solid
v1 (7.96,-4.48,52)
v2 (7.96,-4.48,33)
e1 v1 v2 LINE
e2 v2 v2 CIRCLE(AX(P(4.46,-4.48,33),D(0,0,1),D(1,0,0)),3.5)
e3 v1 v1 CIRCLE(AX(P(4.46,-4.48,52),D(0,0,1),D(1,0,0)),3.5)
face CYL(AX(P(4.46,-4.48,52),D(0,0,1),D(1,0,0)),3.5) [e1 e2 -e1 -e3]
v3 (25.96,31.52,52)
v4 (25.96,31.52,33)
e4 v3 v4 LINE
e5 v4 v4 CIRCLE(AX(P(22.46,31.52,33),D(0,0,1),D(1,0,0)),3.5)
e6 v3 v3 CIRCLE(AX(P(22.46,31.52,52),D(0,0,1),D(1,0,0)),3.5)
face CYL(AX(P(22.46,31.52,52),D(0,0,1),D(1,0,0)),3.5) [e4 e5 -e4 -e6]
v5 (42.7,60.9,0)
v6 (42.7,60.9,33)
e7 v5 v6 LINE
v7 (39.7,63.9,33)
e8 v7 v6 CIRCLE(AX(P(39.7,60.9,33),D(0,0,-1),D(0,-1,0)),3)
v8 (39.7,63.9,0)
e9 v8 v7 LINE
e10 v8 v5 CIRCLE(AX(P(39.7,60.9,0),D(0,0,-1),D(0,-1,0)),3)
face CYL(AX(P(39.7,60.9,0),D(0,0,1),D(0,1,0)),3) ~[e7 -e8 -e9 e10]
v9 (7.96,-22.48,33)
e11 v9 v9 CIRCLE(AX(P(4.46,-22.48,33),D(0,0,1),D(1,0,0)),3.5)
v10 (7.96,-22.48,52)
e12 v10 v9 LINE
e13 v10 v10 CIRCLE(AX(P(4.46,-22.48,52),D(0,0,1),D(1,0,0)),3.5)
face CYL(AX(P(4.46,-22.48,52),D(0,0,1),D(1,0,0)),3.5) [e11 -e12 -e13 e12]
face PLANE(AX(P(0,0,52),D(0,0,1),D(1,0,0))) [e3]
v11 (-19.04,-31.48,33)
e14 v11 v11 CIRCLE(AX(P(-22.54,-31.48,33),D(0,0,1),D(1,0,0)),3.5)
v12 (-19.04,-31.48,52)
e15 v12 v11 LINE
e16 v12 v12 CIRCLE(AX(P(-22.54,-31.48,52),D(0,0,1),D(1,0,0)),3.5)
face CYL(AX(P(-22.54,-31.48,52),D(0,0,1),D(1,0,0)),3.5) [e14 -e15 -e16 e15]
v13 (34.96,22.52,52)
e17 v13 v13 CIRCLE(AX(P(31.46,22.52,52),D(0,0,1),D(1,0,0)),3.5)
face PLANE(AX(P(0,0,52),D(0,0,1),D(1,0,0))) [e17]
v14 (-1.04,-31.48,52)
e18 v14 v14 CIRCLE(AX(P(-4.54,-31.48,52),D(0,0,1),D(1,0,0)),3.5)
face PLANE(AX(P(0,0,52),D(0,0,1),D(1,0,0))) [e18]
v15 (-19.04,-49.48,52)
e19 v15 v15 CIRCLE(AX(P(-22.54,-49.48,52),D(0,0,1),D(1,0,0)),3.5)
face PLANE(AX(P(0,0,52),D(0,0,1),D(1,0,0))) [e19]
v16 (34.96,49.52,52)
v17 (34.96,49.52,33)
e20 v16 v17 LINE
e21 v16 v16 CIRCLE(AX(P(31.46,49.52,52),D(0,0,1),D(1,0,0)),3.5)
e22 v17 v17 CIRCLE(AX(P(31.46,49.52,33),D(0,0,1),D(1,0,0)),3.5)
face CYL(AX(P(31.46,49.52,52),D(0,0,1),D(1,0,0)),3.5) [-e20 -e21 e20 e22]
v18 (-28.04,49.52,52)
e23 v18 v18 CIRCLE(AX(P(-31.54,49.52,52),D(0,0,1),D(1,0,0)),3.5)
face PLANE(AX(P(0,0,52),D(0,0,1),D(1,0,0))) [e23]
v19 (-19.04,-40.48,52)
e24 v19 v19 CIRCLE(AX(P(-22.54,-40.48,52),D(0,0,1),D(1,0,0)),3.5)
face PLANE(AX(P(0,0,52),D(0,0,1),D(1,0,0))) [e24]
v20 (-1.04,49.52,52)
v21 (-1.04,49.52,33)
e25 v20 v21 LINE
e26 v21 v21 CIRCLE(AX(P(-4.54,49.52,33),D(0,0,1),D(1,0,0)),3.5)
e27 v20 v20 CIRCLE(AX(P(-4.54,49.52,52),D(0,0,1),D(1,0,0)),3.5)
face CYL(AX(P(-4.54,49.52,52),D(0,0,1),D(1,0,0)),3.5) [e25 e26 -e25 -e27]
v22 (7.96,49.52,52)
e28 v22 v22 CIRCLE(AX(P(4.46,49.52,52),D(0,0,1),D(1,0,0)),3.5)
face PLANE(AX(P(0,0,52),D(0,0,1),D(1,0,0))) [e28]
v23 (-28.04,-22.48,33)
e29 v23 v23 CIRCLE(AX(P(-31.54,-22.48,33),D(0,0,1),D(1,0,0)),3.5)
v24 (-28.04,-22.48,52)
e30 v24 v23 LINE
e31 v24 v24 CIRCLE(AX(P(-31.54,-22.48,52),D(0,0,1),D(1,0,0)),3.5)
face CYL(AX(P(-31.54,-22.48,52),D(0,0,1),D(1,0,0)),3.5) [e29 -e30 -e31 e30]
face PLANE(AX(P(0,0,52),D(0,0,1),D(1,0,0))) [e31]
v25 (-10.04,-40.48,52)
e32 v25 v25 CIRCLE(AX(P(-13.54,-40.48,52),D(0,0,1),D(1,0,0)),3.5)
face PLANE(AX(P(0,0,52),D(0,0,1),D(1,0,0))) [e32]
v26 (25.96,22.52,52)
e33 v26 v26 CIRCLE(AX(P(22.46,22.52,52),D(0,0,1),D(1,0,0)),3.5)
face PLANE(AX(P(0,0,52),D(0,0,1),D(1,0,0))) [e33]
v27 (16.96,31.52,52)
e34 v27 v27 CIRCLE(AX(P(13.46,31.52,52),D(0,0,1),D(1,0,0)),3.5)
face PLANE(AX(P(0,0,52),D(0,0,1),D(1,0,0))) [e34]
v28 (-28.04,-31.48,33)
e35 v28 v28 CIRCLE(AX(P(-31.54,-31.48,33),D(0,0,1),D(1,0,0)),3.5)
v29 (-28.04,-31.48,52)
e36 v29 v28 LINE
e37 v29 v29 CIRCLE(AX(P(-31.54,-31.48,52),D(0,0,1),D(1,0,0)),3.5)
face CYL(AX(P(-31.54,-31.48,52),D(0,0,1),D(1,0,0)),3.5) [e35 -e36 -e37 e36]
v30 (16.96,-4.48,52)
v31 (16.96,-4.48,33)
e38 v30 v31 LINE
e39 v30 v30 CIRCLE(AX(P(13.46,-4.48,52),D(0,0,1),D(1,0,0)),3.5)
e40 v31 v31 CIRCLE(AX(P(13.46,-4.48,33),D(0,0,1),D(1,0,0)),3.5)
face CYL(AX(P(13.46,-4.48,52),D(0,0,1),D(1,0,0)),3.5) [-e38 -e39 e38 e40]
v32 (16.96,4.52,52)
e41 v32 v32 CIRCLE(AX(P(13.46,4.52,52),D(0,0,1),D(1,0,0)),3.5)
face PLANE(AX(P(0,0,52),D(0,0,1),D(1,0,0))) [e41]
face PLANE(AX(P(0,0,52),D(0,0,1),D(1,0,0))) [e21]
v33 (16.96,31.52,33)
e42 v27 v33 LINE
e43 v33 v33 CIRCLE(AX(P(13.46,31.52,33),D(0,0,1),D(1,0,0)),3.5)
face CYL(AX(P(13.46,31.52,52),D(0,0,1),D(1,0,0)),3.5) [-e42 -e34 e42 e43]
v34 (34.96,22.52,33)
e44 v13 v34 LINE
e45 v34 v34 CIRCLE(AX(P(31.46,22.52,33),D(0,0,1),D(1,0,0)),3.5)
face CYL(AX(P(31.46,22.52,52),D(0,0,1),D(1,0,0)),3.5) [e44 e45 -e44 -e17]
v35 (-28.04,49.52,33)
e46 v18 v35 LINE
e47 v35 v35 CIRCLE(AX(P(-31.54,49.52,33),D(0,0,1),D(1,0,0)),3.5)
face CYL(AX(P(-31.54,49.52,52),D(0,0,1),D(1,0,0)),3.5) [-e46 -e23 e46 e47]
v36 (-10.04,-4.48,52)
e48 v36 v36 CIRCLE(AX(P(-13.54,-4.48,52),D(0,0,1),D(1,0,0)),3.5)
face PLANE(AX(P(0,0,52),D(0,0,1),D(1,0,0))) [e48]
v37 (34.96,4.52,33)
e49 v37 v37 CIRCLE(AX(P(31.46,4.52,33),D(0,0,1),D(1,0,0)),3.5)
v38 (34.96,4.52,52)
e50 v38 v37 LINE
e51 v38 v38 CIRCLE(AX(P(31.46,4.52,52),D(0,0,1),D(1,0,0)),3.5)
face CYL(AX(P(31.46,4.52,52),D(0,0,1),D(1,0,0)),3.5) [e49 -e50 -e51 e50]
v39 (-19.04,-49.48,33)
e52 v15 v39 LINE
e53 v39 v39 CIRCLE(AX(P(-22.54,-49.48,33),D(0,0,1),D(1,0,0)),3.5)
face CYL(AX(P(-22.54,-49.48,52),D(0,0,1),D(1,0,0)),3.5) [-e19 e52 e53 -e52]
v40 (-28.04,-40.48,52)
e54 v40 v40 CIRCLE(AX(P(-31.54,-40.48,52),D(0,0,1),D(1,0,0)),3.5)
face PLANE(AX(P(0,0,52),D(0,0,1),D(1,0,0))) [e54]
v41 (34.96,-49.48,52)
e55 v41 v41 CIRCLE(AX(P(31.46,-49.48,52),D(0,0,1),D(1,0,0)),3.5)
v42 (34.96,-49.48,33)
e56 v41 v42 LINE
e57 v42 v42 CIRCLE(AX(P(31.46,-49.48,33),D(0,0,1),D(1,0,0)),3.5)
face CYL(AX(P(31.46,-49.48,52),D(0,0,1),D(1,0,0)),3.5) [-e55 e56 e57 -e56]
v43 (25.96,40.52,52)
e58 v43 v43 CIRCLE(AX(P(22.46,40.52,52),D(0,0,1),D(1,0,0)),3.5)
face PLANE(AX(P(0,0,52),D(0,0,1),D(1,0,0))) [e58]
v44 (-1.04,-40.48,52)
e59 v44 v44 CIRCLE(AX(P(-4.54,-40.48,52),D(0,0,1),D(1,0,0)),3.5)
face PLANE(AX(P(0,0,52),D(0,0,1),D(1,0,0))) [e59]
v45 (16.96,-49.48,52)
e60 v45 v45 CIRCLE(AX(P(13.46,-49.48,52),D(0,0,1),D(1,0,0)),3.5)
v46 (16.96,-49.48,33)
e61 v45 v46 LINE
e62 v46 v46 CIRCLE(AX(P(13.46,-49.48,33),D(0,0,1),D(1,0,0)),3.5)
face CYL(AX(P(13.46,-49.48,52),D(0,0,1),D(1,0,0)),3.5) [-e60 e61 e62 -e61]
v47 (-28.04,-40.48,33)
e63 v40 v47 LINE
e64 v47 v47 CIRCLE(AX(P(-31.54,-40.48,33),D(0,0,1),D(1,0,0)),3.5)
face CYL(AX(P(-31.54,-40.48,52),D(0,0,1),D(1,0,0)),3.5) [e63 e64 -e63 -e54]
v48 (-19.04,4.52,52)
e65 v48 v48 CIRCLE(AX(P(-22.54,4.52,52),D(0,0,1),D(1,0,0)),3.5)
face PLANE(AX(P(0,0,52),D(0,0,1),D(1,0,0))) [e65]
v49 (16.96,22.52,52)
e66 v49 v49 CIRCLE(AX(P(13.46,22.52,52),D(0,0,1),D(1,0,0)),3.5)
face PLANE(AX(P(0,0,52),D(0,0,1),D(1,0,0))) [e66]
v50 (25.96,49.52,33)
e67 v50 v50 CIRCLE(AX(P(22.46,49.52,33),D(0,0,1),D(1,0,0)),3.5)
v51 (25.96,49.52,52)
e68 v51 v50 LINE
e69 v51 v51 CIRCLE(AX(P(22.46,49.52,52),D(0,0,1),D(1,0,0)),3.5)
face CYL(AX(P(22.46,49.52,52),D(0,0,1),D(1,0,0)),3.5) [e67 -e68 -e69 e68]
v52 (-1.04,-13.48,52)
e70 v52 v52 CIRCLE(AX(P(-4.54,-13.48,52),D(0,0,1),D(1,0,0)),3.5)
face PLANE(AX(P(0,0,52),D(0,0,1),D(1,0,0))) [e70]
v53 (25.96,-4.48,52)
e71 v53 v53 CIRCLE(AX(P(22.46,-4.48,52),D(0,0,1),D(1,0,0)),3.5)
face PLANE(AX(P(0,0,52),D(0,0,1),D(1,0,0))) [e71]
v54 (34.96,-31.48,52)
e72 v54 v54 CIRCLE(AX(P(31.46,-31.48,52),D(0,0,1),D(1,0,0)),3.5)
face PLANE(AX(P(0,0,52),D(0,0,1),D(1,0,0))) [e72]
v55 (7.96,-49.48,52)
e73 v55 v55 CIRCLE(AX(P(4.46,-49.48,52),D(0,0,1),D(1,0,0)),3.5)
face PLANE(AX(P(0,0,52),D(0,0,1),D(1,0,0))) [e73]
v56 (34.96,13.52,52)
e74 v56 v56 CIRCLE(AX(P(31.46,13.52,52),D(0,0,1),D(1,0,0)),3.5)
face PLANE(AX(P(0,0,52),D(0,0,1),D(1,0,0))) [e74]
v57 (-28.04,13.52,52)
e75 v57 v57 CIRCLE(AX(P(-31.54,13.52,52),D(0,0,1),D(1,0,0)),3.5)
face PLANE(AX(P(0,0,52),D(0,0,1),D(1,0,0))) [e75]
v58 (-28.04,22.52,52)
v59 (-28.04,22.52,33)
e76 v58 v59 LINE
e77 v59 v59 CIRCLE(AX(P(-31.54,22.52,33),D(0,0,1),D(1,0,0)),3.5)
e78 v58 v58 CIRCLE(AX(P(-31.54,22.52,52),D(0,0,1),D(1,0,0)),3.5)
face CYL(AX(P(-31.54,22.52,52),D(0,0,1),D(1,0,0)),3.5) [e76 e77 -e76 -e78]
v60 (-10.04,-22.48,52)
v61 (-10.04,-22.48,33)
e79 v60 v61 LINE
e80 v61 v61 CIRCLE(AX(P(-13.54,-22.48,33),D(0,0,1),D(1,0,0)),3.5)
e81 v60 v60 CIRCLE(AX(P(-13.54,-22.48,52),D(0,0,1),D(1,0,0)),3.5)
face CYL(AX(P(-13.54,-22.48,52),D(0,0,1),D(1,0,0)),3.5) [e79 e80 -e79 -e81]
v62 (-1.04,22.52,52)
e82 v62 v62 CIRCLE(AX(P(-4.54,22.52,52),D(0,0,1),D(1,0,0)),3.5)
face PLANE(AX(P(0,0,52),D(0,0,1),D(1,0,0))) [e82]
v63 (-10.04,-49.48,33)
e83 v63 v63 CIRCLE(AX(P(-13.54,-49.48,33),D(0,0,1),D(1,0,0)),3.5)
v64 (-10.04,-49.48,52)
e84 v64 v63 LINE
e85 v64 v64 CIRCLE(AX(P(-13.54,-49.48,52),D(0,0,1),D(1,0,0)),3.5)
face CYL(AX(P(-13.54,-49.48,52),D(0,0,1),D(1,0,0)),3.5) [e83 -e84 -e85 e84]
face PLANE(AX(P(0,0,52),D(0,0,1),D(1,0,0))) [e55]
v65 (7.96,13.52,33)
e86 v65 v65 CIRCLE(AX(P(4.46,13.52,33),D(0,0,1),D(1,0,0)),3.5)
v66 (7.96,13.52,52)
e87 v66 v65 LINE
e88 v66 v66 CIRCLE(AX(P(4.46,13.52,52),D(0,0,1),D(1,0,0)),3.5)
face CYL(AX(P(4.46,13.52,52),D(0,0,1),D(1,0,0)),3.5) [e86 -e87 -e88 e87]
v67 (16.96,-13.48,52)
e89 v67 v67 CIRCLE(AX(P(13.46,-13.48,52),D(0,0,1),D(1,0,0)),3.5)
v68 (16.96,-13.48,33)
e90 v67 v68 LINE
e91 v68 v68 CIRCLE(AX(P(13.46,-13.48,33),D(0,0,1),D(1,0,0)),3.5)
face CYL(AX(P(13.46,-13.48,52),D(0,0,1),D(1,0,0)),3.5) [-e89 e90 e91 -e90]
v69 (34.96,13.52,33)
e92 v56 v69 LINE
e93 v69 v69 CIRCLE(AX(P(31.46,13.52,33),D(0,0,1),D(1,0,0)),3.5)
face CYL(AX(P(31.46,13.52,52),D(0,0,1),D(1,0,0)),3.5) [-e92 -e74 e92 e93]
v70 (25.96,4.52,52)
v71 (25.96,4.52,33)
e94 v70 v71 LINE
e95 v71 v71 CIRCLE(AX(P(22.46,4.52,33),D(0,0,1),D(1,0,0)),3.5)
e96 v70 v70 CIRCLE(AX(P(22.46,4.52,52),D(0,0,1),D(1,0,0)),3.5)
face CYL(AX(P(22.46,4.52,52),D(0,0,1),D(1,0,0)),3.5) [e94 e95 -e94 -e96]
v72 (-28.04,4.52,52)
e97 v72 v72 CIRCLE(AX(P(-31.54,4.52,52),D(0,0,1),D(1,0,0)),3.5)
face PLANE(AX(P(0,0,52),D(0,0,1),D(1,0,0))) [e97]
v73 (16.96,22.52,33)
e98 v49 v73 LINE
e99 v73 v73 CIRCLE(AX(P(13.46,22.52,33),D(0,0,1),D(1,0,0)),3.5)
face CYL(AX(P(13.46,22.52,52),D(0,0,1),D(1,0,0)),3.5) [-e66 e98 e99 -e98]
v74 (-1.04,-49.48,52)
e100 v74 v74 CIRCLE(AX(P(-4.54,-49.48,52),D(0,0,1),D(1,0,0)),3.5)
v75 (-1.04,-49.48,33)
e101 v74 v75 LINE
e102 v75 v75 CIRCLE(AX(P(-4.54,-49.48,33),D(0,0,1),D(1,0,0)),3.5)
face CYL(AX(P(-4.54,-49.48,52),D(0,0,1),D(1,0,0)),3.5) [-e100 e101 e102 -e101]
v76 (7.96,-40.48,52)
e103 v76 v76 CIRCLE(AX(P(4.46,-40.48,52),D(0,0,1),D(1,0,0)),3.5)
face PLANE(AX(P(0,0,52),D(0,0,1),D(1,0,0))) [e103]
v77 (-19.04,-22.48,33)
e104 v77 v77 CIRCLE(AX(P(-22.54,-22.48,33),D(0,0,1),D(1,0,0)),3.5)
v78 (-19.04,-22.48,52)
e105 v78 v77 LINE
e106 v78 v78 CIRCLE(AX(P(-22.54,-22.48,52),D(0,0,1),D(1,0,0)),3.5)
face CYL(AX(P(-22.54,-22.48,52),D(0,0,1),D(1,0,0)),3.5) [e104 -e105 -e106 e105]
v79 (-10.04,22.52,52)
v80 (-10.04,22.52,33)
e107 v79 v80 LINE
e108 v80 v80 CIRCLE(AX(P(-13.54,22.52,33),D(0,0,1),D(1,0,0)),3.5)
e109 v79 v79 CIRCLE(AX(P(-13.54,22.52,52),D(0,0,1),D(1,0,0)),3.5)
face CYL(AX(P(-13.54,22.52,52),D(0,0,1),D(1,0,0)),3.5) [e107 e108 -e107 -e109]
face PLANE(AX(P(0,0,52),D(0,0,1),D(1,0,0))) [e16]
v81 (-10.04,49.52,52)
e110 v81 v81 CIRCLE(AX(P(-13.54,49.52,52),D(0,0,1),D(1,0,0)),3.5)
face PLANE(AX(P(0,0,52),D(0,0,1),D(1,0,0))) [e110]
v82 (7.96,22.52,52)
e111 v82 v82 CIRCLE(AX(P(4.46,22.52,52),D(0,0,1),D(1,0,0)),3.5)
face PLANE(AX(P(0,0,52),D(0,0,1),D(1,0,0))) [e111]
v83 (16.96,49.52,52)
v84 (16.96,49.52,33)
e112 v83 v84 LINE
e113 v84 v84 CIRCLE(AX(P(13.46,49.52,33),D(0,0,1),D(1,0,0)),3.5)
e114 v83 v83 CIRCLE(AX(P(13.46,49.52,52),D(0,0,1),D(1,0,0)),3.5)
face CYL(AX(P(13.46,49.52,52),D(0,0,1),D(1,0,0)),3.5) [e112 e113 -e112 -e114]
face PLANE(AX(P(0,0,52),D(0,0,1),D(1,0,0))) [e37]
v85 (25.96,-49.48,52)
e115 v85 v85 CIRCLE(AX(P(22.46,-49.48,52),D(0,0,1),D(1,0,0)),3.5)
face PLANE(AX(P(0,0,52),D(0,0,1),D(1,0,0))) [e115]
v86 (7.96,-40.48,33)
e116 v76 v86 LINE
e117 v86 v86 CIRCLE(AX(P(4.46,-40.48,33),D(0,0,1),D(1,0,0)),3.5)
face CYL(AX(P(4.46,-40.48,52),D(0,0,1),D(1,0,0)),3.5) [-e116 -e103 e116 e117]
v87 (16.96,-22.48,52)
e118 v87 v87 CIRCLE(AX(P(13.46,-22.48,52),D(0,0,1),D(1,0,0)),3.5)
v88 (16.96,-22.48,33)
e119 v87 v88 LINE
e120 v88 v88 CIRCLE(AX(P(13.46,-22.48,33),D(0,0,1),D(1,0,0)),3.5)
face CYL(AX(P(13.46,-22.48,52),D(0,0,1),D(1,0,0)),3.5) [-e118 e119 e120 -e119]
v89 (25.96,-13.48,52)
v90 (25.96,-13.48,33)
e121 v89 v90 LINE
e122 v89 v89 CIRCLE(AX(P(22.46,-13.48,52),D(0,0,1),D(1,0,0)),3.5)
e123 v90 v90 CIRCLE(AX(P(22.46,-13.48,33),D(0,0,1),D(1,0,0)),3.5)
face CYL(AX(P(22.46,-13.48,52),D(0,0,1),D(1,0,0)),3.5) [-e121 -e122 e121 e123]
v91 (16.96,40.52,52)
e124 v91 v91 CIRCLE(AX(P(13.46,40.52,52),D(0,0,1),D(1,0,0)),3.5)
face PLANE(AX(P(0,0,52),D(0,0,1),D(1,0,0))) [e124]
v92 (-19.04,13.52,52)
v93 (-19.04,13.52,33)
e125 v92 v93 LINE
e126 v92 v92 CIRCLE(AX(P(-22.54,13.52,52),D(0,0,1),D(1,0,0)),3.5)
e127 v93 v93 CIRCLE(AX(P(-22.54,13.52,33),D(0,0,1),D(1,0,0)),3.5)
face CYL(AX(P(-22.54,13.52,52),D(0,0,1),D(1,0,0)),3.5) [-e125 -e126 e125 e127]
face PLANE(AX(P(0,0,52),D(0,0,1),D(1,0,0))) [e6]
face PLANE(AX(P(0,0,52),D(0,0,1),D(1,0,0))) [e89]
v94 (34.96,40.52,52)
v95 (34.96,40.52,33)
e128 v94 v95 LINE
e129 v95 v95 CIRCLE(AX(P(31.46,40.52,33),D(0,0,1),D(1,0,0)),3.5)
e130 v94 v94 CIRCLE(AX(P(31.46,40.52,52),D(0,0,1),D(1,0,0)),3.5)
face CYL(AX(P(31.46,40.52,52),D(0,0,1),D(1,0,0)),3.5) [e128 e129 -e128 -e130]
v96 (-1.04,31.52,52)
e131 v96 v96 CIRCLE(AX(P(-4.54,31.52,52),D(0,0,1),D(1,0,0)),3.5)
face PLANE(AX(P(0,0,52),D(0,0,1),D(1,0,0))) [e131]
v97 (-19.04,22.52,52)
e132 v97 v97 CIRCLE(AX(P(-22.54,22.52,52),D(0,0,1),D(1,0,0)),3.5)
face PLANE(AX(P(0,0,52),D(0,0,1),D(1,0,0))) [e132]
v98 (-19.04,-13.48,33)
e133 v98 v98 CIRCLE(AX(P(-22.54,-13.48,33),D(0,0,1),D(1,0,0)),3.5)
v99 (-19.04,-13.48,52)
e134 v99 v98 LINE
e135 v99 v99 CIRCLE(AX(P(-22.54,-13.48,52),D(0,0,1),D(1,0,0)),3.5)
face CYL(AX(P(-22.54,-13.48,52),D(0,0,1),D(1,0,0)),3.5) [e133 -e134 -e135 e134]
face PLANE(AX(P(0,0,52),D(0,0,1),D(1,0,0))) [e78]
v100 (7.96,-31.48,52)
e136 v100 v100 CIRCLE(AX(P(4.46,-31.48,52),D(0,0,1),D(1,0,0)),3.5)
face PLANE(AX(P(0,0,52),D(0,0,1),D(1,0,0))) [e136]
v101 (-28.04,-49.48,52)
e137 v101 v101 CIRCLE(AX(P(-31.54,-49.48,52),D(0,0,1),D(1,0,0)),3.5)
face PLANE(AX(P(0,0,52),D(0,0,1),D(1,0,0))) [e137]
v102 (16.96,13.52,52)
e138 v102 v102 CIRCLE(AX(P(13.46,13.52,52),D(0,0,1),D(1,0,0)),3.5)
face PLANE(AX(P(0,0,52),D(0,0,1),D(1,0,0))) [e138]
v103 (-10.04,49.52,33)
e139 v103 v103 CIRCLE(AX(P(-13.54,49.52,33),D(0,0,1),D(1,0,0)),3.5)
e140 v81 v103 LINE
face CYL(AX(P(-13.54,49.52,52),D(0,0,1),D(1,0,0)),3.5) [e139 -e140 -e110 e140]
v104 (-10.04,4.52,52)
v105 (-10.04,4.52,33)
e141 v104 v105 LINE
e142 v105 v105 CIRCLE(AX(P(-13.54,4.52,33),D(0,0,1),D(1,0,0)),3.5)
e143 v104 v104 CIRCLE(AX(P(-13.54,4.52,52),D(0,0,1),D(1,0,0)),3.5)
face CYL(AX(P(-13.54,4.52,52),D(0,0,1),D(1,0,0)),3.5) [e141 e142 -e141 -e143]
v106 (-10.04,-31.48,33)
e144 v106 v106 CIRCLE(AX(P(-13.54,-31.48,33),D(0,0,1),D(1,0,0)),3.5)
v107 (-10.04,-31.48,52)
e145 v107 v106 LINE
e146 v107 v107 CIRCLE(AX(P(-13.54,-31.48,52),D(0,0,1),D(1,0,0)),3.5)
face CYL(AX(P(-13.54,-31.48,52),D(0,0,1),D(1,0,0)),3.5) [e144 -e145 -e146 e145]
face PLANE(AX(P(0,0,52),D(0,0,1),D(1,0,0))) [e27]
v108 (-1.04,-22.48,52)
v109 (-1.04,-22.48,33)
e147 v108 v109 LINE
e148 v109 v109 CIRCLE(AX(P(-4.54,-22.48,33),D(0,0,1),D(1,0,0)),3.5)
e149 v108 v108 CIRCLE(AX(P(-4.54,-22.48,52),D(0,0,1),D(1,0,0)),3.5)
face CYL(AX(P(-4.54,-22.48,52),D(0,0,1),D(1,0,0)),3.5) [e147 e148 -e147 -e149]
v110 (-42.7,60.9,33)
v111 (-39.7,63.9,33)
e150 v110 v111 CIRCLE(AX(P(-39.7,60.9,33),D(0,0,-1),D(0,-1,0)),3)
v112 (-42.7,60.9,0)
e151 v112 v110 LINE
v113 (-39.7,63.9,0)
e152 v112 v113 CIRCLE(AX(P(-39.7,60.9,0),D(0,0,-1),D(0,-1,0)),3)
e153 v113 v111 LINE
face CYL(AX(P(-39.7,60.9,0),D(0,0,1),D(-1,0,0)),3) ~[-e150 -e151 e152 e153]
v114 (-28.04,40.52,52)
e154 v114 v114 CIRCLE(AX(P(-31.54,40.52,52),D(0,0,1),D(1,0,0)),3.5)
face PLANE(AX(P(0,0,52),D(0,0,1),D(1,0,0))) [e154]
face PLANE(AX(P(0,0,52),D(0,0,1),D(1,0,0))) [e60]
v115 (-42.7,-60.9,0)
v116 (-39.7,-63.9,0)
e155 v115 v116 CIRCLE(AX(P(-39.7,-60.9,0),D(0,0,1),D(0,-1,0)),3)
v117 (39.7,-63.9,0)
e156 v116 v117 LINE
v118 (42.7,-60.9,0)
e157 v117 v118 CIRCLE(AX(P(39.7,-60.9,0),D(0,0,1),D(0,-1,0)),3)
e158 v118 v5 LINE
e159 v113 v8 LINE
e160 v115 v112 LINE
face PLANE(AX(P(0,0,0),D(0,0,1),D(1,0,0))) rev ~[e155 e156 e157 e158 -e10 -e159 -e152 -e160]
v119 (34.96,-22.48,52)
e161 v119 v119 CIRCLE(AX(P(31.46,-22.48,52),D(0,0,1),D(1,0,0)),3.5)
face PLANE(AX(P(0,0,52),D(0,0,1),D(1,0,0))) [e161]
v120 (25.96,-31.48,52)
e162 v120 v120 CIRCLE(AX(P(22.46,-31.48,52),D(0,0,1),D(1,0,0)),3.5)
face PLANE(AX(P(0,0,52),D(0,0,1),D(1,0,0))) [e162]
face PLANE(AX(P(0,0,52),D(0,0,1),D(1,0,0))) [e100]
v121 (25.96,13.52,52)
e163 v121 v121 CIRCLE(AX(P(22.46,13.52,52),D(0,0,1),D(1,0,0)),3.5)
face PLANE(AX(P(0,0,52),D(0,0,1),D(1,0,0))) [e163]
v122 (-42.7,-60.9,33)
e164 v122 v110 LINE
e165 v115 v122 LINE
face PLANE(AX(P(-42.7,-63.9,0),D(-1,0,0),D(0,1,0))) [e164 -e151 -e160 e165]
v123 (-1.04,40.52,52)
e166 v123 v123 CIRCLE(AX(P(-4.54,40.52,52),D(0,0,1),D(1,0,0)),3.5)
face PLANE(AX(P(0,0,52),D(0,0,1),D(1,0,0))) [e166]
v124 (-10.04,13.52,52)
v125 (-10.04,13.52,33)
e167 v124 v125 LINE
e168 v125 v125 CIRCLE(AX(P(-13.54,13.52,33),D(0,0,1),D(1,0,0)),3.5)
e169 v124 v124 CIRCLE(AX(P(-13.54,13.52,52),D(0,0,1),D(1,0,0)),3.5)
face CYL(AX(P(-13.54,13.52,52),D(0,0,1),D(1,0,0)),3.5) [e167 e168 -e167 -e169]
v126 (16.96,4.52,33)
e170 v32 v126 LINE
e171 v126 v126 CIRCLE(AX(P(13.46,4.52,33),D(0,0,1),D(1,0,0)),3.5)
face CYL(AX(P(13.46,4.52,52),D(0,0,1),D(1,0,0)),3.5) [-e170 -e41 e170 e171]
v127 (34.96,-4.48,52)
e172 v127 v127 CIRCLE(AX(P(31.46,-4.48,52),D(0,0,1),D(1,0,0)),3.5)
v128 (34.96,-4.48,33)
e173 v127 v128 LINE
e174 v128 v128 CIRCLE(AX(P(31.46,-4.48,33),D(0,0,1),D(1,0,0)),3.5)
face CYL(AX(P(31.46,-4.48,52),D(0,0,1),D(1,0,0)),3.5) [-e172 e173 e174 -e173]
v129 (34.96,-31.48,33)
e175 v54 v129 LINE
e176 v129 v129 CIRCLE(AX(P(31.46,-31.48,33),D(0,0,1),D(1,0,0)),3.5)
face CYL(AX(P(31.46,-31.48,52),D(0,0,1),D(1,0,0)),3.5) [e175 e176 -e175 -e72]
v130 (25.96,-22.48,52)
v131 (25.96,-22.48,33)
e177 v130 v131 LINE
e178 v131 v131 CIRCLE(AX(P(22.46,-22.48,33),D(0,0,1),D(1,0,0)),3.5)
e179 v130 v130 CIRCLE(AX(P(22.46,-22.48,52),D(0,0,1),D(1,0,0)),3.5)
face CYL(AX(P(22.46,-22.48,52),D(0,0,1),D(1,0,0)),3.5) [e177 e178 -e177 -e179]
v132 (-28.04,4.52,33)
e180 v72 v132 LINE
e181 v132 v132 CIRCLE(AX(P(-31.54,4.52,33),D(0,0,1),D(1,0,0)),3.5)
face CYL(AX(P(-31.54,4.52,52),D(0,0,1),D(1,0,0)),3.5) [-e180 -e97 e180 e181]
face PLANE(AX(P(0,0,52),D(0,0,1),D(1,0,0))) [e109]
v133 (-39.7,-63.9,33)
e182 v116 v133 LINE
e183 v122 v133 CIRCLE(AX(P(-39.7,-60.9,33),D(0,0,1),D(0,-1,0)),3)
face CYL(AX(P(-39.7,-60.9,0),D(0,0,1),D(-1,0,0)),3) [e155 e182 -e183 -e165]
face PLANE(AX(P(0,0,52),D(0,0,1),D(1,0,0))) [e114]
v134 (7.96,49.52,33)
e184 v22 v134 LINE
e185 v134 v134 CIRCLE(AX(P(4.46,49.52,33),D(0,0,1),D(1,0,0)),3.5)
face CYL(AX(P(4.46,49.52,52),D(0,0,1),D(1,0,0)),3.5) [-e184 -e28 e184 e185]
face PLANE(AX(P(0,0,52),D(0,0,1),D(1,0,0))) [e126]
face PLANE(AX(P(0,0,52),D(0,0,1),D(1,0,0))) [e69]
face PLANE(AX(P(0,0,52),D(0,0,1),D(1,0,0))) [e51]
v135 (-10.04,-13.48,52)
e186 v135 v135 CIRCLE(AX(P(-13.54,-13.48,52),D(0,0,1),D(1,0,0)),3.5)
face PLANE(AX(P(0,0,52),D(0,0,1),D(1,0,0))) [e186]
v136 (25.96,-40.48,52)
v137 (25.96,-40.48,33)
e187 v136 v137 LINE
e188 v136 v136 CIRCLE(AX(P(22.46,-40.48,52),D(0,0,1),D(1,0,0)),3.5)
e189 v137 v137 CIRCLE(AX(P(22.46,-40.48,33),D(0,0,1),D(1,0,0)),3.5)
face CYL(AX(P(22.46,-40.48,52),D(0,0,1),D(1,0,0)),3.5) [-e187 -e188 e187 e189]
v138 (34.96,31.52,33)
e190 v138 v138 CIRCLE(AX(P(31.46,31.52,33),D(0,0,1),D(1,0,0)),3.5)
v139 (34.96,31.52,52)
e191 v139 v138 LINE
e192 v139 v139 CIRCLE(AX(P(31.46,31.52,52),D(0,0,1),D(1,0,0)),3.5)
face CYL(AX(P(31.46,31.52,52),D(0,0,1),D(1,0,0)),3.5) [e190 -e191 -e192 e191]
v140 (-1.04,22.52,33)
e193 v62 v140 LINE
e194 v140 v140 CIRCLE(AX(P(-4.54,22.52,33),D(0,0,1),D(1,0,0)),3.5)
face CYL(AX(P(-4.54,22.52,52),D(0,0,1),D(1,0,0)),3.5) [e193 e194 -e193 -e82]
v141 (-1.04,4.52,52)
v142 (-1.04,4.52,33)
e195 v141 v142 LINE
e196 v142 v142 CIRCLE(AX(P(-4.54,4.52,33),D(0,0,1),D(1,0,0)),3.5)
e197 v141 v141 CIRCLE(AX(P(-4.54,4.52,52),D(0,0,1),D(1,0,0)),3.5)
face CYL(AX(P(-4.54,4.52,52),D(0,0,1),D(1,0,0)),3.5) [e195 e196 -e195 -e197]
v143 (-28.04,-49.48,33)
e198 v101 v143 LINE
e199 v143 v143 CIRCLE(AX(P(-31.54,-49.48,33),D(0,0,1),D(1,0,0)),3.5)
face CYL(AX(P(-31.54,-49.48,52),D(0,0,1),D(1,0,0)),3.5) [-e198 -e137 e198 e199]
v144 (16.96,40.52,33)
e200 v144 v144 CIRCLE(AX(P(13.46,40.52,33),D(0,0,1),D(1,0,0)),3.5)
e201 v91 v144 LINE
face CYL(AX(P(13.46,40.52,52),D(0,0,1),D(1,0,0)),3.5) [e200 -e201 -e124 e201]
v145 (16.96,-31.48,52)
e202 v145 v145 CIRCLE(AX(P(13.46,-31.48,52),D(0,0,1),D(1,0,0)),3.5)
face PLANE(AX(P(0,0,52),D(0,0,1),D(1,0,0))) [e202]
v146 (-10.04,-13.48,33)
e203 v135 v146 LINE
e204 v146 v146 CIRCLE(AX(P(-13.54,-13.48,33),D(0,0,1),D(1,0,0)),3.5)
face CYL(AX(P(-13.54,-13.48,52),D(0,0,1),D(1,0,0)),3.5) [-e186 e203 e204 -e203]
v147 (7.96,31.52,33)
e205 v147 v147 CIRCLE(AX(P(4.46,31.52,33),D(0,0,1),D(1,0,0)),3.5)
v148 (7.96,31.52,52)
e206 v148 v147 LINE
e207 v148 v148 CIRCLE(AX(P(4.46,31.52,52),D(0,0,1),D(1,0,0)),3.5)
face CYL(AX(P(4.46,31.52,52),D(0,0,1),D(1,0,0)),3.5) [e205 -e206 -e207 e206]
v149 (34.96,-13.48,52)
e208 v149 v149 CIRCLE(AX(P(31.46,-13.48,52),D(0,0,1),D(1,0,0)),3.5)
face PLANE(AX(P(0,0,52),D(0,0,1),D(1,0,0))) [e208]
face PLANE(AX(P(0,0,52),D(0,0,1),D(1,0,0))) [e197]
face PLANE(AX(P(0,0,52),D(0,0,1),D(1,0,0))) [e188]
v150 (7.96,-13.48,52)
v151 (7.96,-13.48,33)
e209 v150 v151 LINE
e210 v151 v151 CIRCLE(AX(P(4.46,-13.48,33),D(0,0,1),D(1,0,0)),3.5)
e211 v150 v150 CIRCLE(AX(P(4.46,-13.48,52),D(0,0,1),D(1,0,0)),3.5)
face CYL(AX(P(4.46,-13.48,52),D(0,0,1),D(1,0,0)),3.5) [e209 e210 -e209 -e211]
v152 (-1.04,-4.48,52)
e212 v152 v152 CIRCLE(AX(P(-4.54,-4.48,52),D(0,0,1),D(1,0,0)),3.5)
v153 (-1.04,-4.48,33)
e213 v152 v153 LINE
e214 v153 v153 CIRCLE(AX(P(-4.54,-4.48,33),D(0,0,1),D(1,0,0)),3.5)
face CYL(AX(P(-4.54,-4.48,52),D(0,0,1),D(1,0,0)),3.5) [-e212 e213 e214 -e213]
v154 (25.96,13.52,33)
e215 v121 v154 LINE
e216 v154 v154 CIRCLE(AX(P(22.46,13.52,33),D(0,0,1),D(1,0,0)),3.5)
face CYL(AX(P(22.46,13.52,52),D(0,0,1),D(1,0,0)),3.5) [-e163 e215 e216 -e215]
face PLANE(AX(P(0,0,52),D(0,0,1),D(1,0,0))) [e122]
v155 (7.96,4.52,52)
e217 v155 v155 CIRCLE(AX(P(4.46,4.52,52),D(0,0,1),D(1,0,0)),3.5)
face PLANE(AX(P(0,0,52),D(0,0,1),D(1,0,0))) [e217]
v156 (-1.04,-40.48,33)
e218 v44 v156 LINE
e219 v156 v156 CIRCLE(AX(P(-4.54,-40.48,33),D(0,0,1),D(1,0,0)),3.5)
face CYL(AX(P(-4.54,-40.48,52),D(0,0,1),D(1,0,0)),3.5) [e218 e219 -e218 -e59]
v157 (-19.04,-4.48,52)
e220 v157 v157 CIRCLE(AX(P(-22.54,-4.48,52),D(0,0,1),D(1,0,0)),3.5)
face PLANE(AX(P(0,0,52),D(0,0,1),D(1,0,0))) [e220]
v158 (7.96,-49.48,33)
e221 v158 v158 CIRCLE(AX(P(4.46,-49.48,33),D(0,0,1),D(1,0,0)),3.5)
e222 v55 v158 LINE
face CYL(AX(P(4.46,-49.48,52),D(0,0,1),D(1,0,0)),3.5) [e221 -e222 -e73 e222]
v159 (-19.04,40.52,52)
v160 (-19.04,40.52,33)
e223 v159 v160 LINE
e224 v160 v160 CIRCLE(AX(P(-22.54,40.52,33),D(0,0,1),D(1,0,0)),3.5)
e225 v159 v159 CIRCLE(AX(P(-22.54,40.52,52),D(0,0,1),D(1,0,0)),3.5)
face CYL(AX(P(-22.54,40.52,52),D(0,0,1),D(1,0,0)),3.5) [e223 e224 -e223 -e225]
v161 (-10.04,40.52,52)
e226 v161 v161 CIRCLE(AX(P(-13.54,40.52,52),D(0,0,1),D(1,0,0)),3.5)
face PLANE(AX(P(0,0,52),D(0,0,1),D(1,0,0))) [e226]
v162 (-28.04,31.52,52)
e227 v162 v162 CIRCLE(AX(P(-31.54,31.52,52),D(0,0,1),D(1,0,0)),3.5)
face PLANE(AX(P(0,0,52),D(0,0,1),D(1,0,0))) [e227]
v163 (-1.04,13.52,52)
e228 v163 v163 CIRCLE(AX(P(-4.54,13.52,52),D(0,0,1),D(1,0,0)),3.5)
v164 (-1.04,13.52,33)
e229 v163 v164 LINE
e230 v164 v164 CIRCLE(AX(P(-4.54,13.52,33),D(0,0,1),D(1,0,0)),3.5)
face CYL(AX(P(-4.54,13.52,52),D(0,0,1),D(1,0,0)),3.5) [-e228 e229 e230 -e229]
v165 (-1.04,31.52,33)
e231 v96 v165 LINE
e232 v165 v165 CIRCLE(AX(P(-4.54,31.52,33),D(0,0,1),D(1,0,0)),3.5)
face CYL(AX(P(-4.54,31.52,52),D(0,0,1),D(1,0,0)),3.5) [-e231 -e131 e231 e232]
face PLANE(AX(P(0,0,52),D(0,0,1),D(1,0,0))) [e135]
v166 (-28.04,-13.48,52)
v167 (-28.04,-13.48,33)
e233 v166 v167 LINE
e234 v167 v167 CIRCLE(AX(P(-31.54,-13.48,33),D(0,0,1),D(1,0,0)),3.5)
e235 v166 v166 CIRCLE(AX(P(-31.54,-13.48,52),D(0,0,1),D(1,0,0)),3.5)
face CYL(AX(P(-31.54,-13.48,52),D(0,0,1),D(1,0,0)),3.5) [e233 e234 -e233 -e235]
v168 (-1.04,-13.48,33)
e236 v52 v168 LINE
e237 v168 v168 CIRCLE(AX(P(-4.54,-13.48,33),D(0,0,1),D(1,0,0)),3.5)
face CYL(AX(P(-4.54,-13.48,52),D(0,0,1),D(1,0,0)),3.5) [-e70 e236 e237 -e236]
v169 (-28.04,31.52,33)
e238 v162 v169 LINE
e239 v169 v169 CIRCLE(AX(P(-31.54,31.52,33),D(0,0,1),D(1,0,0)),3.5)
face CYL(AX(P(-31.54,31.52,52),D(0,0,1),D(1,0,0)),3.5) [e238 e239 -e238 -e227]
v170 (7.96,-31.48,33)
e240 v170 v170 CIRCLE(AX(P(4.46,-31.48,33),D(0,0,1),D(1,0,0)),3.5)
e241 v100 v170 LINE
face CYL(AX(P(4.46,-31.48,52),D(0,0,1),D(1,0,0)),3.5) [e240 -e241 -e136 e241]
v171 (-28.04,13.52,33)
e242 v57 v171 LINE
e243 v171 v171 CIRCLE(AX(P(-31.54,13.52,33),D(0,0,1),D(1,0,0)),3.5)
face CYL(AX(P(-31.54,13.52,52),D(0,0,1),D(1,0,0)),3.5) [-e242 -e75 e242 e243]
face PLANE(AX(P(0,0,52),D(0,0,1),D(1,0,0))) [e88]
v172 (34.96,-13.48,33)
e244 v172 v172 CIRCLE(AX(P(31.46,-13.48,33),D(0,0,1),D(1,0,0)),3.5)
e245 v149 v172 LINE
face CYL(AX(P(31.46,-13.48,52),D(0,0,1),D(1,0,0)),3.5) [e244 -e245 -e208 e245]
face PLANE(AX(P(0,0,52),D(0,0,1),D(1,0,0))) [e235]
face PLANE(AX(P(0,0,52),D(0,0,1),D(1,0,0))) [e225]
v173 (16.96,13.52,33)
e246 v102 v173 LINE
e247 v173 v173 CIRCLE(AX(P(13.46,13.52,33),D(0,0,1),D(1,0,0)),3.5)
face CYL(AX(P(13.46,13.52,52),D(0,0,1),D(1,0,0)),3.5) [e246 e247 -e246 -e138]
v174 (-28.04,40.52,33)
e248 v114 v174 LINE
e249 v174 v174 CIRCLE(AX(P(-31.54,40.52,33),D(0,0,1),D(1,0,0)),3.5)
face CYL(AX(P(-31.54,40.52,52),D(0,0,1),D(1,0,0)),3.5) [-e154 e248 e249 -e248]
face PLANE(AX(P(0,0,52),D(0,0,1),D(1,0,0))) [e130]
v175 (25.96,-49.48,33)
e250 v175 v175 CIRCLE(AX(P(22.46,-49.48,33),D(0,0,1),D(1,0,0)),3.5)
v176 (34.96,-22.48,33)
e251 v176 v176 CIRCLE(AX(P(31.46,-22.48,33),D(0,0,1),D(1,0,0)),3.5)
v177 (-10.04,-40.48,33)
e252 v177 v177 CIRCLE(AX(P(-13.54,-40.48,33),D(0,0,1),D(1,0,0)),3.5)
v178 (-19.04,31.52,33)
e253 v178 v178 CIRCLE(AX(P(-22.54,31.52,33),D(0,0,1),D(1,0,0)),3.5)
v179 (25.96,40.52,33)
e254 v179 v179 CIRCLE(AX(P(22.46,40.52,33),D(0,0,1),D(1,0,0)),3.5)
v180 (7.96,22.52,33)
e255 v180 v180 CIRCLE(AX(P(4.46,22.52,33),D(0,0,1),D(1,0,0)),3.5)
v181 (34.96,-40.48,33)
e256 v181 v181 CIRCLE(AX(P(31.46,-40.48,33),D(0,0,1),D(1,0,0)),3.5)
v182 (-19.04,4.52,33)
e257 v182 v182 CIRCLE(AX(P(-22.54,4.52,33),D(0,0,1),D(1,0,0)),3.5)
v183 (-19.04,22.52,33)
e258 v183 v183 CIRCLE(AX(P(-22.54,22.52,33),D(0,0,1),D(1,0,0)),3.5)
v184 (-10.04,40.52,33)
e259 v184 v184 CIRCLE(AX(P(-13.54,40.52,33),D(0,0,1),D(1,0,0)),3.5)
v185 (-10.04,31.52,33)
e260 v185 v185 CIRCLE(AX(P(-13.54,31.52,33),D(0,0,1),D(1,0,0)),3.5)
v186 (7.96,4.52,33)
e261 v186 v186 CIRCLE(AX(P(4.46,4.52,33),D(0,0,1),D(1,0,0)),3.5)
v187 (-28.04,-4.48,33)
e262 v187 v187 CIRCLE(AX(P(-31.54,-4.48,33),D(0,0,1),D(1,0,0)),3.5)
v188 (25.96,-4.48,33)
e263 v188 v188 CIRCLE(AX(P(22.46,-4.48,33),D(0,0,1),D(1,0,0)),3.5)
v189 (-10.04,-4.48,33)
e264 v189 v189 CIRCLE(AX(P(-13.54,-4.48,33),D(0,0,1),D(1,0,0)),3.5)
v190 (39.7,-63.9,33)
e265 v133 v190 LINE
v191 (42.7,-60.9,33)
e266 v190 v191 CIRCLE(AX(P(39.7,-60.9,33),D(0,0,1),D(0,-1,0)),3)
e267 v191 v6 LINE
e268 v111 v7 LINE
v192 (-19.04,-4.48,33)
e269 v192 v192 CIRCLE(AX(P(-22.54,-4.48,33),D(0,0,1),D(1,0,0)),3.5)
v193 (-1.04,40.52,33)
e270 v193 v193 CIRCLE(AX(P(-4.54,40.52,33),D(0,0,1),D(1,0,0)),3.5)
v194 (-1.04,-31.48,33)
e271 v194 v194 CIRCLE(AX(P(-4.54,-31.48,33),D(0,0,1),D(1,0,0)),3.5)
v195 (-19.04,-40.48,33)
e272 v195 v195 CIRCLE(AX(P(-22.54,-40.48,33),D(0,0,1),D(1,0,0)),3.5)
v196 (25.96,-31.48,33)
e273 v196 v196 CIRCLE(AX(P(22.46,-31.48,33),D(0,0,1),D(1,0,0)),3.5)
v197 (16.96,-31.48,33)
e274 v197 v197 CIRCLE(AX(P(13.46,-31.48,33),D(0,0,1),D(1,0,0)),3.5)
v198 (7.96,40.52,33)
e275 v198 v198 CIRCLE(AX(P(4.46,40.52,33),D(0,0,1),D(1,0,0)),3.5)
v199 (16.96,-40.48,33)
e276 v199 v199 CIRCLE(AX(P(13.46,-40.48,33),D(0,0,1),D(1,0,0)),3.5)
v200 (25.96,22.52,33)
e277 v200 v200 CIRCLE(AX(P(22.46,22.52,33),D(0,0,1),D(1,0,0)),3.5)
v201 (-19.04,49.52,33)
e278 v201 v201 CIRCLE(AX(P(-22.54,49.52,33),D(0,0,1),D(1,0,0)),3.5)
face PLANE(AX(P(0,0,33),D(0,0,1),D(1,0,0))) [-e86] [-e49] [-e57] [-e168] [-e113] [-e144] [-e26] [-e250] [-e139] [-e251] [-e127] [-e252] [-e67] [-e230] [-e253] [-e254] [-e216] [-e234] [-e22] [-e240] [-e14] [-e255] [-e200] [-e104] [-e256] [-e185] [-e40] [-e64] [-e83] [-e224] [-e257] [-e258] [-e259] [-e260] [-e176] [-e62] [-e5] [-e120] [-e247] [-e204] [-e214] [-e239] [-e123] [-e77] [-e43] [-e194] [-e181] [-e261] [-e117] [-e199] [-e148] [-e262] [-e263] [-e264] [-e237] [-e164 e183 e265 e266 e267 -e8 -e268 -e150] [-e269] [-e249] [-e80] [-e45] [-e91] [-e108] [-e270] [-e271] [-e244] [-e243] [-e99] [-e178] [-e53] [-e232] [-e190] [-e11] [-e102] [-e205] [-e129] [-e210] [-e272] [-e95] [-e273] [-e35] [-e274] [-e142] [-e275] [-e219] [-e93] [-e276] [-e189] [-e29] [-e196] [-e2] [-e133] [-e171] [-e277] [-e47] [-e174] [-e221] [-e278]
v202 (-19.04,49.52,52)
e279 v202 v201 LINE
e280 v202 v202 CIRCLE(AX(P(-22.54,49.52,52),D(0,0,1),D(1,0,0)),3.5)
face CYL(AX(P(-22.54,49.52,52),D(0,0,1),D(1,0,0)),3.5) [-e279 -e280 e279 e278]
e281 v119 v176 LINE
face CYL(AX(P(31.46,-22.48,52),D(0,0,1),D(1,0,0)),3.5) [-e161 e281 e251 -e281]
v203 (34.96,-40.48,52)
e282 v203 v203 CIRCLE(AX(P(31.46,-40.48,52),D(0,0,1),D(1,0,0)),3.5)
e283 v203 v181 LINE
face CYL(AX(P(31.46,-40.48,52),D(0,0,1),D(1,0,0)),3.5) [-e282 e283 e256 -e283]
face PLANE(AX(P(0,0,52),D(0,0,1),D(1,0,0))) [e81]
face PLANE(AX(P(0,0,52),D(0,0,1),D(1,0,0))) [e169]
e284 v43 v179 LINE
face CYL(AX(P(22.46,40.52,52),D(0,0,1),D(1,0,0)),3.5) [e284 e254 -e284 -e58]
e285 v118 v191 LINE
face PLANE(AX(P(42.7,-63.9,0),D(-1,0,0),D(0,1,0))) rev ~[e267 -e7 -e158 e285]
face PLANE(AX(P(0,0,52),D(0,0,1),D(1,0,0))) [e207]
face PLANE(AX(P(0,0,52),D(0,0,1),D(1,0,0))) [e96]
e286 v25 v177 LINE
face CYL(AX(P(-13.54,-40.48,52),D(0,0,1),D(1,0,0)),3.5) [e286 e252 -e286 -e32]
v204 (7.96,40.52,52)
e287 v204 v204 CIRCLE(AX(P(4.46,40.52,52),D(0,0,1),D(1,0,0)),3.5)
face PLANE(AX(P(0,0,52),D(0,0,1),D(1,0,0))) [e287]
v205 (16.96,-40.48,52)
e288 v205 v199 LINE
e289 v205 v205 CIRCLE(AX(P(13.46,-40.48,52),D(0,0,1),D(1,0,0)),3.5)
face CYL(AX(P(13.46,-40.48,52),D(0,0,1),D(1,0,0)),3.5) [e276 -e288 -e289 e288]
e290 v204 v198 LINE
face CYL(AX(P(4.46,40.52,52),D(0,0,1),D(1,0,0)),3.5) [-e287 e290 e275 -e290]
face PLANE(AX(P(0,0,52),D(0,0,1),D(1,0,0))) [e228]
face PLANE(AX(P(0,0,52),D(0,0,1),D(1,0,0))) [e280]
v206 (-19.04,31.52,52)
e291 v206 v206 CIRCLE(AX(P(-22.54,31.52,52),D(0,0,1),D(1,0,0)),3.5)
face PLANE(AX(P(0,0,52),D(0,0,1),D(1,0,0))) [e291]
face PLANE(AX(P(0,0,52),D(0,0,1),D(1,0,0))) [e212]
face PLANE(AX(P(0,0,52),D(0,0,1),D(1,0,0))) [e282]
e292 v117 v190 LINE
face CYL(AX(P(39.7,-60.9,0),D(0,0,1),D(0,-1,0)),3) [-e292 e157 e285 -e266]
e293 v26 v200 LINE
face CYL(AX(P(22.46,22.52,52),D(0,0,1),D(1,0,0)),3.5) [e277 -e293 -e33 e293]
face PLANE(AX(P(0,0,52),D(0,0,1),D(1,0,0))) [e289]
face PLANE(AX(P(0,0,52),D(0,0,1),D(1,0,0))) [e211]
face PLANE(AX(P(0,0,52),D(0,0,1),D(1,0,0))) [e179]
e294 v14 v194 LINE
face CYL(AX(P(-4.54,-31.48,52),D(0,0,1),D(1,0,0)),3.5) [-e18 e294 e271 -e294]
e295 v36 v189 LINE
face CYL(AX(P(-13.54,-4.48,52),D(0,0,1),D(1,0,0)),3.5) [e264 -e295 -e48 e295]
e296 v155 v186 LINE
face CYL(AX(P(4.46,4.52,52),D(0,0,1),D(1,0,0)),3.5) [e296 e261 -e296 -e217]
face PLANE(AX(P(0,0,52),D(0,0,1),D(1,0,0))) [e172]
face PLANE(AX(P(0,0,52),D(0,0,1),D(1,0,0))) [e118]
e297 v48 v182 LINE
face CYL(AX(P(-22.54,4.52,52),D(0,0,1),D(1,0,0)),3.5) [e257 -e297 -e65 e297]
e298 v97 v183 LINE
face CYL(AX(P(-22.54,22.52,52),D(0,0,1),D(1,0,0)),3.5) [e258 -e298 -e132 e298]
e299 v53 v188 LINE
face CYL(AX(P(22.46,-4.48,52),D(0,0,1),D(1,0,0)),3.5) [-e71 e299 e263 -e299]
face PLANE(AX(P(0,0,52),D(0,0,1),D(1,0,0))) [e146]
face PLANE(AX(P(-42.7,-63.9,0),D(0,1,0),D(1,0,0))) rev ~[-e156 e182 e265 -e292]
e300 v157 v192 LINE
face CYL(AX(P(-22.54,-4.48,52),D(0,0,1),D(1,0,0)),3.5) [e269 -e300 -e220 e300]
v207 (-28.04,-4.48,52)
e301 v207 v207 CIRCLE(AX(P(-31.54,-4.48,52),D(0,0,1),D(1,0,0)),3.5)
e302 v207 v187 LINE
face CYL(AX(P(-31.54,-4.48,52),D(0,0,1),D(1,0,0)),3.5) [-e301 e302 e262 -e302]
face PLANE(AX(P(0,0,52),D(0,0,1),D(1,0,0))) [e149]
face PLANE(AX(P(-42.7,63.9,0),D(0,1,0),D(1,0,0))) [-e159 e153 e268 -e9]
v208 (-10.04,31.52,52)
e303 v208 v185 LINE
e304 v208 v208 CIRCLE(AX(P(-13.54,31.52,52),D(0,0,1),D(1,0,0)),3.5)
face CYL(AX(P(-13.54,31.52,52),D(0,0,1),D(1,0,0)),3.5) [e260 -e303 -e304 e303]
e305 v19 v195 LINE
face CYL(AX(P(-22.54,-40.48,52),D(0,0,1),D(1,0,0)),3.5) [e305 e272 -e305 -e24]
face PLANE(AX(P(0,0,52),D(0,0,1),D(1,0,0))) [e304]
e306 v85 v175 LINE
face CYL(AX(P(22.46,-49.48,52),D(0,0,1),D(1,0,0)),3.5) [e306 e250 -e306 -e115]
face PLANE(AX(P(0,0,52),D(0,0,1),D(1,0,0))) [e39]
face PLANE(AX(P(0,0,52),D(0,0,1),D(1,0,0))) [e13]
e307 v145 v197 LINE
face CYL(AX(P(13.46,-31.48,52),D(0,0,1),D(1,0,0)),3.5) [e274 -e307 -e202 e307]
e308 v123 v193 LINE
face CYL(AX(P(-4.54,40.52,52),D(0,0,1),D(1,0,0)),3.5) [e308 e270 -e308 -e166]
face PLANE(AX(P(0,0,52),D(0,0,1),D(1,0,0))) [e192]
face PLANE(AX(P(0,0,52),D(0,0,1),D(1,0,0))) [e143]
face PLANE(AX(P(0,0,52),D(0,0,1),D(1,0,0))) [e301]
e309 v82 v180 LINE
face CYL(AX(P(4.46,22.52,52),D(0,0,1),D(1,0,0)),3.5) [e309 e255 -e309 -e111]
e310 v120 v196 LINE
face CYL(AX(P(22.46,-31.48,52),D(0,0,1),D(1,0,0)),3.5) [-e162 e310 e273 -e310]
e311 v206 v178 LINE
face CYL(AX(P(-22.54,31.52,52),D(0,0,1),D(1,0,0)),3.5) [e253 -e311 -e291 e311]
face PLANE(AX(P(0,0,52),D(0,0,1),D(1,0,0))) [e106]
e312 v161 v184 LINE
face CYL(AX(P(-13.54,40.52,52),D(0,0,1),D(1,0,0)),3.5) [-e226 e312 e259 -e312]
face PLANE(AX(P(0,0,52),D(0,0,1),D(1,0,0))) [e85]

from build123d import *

# Parameters (mm, degrees)
F0_W     = 85.4
F0_H     = 127.8
F1_DEPTH = 52
F2_W     = 85.4
F2_H     = 127.8
F2_R     = 3.5
F3_DEPTH = 19
F4_R     = 3


with BuildPart() as f1:
    # F0 (on Top) → F1 (new body)
    with BuildSketch(Plane.XY):
        Rectangle(F0_W, F0_H)
    extrude(amount=F1_DEPTH)

    # F2 (on face) → F3 (cut)
    with BuildSketch(Plane.XY.offset(52)):
        Rectangle(F2_W, F2_H)
        with Locations((-31.54, -49.48)):
            Circle(F2_R, mode=Mode.SUBTRACT)
        with Locations((-22.54, -49.48)):
            Circle(F2_R, mode=Mode.SUBTRACT)
        with Locations((-31.54, -40.48)):
            Circle(F2_R, mode=Mode.SUBTRACT)
        with Locations((-22.54, -40.48)):
            Circle(F2_R, mode=Mode.SUBTRACT)
        with Locations((-13.54, -49.48)):
            Circle(F2_R, mode=Mode.SUBTRACT)
        with Locations((-4.54, -49.48)):
            Circle(F2_R, mode=Mode.SUBTRACT)
        with Locations((-13.54, -40.48)):
            Circle(F2_R, mode=Mode.SUBTRACT)
        with Locations((-4.54, -40.48)):
            Circle(F2_R, mode=Mode.SUBTRACT)
        with Locations((-31.54, -31.48)):
            Circle(F2_R, mode=Mode.SUBTRACT)
        with Locations((-22.54, -31.48)):
            Circle(F2_R, mode=Mode.SUBTRACT)
        with Locations((-31.54, -22.48)):
            Circle(F2_R, mode=Mode.SUBTRACT)
        with Locations((-22.54, -22.48)):
            Circle(F2_R, mode=Mode.SUBTRACT)
        with Locations((-31.54, -13.48)):
            Circle(F2_R, mode=Mode.SUBTRACT)
        with Locations((-22.54, -13.48)):
            Circle(F2_R, mode=Mode.SUBTRACT)
        with Locations((-31.54, -4.48)):
            Circle(F2_R, mode=Mode.SUBTRACT)
        with Locations((-22.54, -4.48)):
            Circle(F2_R, mode=Mode.SUBTRACT)
        with Locations((-13.54, -31.48)):
            Circle(F2_R, mode=Mode.SUBTRACT)
        with Locations((-13.54, -22.48)):
            Circle(F2_R, mode=Mode.SUBTRACT)
        with Locations((-4.54, -31.48)):
            Circle(F2_R, mode=Mode.SUBTRACT)
        with Locations((-4.54, -22.48)):
            Circle(F2_R, mode=Mode.SUBTRACT)
        with Locations((-13.54, -13.48)):
            Circle(F2_R, mode=Mode.SUBTRACT)
        with Locations((-13.54, -4.48)):
            Circle(F2_R, mode=Mode.SUBTRACT)
        with Locations((-4.54, -13.48)):
            Circle(F2_R, mode=Mode.SUBTRACT)
        with Locations((-4.54, -4.48)):
            Circle(F2_R, mode=Mode.SUBTRACT)
        with Locations((4.46, -49.48)):
            Circle(F2_R, mode=Mode.SUBTRACT)
        with Locations((13.46, -49.48)):
            Circle(F2_R, mode=Mode.SUBTRACT)
        with Locations((4.46, -40.48)):
            Circle(F2_R, mode=Mode.SUBTRACT)
        with Locations((13.46, -40.48)):
            Circle(F2_R, mode=Mode.SUBTRACT)
        with Locations((22.46, -49.48)):
            Circle(F2_R, mode=Mode.SUBTRACT)
        with Locations((31.46, -49.48)):
            Circle(F2_R, mode=Mode.SUBTRACT)
        with Locations((22.46, -40.48)):
            Circle(F2_R, mode=Mode.SUBTRACT)
        with Locations((31.46, -40.48)):
            Circle(F2_R, mode=Mode.SUBTRACT)
        with Locations((4.46, -31.48)):
            Circle(F2_R, mode=Mode.SUBTRACT)
        with Locations((4.46, -22.48)):
            Circle(F2_R, mode=Mode.SUBTRACT)
        with Locations((13.46, -31.48)):
            Circle(F2_R, mode=Mode.SUBTRACT)
        with Locations((13.46, -22.48)):
            Circle(F2_R, mode=Mode.SUBTRACT)
        with Locations((4.46, -13.48)):
            Circle(F2_R, mode=Mode.SUBTRACT)
        with Locations((4.46, -4.48)):
            Circle(F2_R, mode=Mode.SUBTRACT)
        with Locations((13.46, -13.48)):
            Circle(F2_R, mode=Mode.SUBTRACT)
        with Locations((13.46, -4.48)):
            Circle(F2_R, mode=Mode.SUBTRACT)
        with Locations((22.46, -31.48)):
            Circle(F2_R, mode=Mode.SUBTRACT)
        with Locations((31.46, -31.48)):
            Circle(F2_R, mode=Mode.SUBTRACT)
        with Locations((22.46, -22.48)):
            Circle(F2_R, mode=Mode.SUBTRACT)
        with Locations((31.46, -22.48)):
            Circle(F2_R, mode=Mode.SUBTRACT)
        with Locations((22.46, -13.48)):
            Circle(F2_R, mode=Mode.SUBTRACT)
        with Locations((31.46, -13.48)):
            Circle(F2_R, mode=Mode.SUBTRACT)
        with Locations((22.46, -4.48)):
            Circle(F2_R, mode=Mode.SUBTRACT)
        with Locations((31.46, -4.48)):
            Circle(F2_R, mode=Mode.SUBTRACT)
        with Locations((-31.54, 4.52)):
            Circle(F2_R, mode=Mode.SUBTRACT)
        with Locations((-22.54, 4.52)):
            Circle(F2_R, mode=Mode.SUBTRACT)
        with Locations((-31.54, 13.52)):
            Circle(F2_R, mode=Mode.SUBTRACT)
        with Locations((-22.54, 13.52)):
            Circle(F2_R, mode=Mode.SUBTRACT)
        with Locations((-31.54, 22.52)):
            Circle(F2_R, mode=Mode.SUBTRACT)
        with Locations((-22.54, 22.52)):
            Circle(F2_R, mode=Mode.SUBTRACT)
        with Locations((-31.54, 31.52)):
            Circle(F2_R, mode=Mode.SUBTRACT)
        with Locations((-22.54, 31.52)):
            Circle(F2_R, mode=Mode.SUBTRACT)
        with Locations((-13.54, 4.52)):
            Circle(F2_R, mode=Mode.SUBTRACT)
        with Locations((-13.54, 13.52)):
            Circle(F2_R, mode=Mode.SUBTRACT)
        with Locations((-4.54, 4.52)):
            Circle(F2_R, mode=Mode.SUBTRACT)
        with Locations((-4.54, 13.52)):
            Circle(F2_R, mode=Mode.SUBTRACT)
        with Locations((-13.54, 22.52)):
            Circle(F2_R, mode=Mode.SUBTRACT)
        with Locations((-13.54, 31.52)):
            Circle(F2_R, mode=Mode.SUBTRACT)
        with Locations((-4.54, 22.52)):
            Circle(F2_R, mode=Mode.SUBTRACT)
        with Locations((-4.54, 31.52)):
            Circle(F2_R, mode=Mode.SUBTRACT)
        with Locations((-31.54, 40.52)):
            Circle(F2_R, mode=Mode.SUBTRACT)
        with Locations((-22.54, 40.52)):
            Circle(F2_R, mode=Mode.SUBTRACT)
        with Locations((-31.54, 49.52)):
            Circle(F2_R, mode=Mode.SUBTRACT)
        with Locations((-22.54, 49.52)):
            Circle(F2_R, mode=Mode.SUBTRACT)
        with Locations((-13.54, 40.52)):
            Circle(F2_R, mode=Mode.SUBTRACT)
        with Locations((-4.54, 40.52)):
            Circle(F2_R, mode=Mode.SUBTRACT)
        with Locations((-13.54, 49.52)):
            Circle(F2_R, mode=Mode.SUBTRACT)
        with Locations((-4.54, 49.52)):
            Circle(F2_R, mode=Mode.SUBTRACT)
        with Locations((4.46, 4.52)):
            Circle(F2_R, mode=Mode.SUBTRACT)
        with Locations((4.46, 13.52)):
            Circle(F2_R, mode=Mode.SUBTRACT)
        with Locations((13.46, 4.52)):
            Circle(F2_R, mode=Mode.SUBTRACT)
        with Locations((13.46, 13.52)):
            Circle(F2_R, mode=Mode.SUBTRACT)
        with Locations((4.46, 22.52)):
            Circle(F2_R, mode=Mode.SUBTRACT)
        with Locations((4.46, 31.52)):
            Circle(F2_R, mode=Mode.SUBTRACT)
        with Locations((13.46, 22.52)):
            Circle(F2_R, mode=Mode.SUBTRACT)
        with Locations((13.46, 31.52)):
            Circle(F2_R, mode=Mode.SUBTRACT)
        with Locations((22.46, 4.52)):
            Circle(F2_R, mode=Mode.SUBTRACT)
        with Locations((31.46, 4.52)):
            Circle(F2_R, mode=Mode.SUBTRACT)
        with Locations((22.46, 13.52)):
            Circle(F2_R, mode=Mode.SUBTRACT)
        with Locations((31.46, 13.52)):
            Circle(F2_R, mode=Mode.SUBTRACT)
        with Locations((22.46, 22.52)):
            Circle(F2_R, mode=Mode.SUBTRACT)
        with Locations((31.46, 22.52)):
            Circle(F2_R, mode=Mode.SUBTRACT)
        with Locations((22.46, 31.52)):
            Circle(F2_R, mode=Mode.SUBTRACT)
        with Locations((31.46, 31.52)):
            Circle(F2_R, mode=Mode.SUBTRACT)
        with Locations((4.46, 40.52)):
            Circle(F2_R, mode=Mode.SUBTRACT)
        with Locations((13.46, 40.52)):
            Circle(F2_R, mode=Mode.SUBTRACT)
        with Locations((4.46, 49.52)):
            Circle(F2_R, mode=Mode.SUBTRACT)
        with Locations((13.46, 49.52)):
            Circle(F2_R, mode=Mode.SUBTRACT)
        with Locations((22.46, 40.52)):
            Circle(F2_R, mode=Mode.SUBTRACT)
        with Locations((31.46, 40.52)):
            Circle(F2_R, mode=Mode.SUBTRACT)
        with Locations((22.46, 49.52)):
            Circle(F2_R, mode=Mode.SUBTRACT)
        with Locations((31.46, 49.52)):
            Circle(F2_R, mode=Mode.SUBTRACT)
    extrude(amount=-F3_DEPTH, mode=Mode.SUBTRACT)

    # F4
    f4_edges = [f1.edges().sort_by_distance(p)[0] for p in [
        (-42.7, 63.9, 16.5),
        (-42.7, -63.9, 16.5),
        (42.7, -63.9, 16.5),
        (42.7, 63.9, 16.5),
    ]]
    fillet(f4_edges, radius=F4_R)


solid = f1.part
